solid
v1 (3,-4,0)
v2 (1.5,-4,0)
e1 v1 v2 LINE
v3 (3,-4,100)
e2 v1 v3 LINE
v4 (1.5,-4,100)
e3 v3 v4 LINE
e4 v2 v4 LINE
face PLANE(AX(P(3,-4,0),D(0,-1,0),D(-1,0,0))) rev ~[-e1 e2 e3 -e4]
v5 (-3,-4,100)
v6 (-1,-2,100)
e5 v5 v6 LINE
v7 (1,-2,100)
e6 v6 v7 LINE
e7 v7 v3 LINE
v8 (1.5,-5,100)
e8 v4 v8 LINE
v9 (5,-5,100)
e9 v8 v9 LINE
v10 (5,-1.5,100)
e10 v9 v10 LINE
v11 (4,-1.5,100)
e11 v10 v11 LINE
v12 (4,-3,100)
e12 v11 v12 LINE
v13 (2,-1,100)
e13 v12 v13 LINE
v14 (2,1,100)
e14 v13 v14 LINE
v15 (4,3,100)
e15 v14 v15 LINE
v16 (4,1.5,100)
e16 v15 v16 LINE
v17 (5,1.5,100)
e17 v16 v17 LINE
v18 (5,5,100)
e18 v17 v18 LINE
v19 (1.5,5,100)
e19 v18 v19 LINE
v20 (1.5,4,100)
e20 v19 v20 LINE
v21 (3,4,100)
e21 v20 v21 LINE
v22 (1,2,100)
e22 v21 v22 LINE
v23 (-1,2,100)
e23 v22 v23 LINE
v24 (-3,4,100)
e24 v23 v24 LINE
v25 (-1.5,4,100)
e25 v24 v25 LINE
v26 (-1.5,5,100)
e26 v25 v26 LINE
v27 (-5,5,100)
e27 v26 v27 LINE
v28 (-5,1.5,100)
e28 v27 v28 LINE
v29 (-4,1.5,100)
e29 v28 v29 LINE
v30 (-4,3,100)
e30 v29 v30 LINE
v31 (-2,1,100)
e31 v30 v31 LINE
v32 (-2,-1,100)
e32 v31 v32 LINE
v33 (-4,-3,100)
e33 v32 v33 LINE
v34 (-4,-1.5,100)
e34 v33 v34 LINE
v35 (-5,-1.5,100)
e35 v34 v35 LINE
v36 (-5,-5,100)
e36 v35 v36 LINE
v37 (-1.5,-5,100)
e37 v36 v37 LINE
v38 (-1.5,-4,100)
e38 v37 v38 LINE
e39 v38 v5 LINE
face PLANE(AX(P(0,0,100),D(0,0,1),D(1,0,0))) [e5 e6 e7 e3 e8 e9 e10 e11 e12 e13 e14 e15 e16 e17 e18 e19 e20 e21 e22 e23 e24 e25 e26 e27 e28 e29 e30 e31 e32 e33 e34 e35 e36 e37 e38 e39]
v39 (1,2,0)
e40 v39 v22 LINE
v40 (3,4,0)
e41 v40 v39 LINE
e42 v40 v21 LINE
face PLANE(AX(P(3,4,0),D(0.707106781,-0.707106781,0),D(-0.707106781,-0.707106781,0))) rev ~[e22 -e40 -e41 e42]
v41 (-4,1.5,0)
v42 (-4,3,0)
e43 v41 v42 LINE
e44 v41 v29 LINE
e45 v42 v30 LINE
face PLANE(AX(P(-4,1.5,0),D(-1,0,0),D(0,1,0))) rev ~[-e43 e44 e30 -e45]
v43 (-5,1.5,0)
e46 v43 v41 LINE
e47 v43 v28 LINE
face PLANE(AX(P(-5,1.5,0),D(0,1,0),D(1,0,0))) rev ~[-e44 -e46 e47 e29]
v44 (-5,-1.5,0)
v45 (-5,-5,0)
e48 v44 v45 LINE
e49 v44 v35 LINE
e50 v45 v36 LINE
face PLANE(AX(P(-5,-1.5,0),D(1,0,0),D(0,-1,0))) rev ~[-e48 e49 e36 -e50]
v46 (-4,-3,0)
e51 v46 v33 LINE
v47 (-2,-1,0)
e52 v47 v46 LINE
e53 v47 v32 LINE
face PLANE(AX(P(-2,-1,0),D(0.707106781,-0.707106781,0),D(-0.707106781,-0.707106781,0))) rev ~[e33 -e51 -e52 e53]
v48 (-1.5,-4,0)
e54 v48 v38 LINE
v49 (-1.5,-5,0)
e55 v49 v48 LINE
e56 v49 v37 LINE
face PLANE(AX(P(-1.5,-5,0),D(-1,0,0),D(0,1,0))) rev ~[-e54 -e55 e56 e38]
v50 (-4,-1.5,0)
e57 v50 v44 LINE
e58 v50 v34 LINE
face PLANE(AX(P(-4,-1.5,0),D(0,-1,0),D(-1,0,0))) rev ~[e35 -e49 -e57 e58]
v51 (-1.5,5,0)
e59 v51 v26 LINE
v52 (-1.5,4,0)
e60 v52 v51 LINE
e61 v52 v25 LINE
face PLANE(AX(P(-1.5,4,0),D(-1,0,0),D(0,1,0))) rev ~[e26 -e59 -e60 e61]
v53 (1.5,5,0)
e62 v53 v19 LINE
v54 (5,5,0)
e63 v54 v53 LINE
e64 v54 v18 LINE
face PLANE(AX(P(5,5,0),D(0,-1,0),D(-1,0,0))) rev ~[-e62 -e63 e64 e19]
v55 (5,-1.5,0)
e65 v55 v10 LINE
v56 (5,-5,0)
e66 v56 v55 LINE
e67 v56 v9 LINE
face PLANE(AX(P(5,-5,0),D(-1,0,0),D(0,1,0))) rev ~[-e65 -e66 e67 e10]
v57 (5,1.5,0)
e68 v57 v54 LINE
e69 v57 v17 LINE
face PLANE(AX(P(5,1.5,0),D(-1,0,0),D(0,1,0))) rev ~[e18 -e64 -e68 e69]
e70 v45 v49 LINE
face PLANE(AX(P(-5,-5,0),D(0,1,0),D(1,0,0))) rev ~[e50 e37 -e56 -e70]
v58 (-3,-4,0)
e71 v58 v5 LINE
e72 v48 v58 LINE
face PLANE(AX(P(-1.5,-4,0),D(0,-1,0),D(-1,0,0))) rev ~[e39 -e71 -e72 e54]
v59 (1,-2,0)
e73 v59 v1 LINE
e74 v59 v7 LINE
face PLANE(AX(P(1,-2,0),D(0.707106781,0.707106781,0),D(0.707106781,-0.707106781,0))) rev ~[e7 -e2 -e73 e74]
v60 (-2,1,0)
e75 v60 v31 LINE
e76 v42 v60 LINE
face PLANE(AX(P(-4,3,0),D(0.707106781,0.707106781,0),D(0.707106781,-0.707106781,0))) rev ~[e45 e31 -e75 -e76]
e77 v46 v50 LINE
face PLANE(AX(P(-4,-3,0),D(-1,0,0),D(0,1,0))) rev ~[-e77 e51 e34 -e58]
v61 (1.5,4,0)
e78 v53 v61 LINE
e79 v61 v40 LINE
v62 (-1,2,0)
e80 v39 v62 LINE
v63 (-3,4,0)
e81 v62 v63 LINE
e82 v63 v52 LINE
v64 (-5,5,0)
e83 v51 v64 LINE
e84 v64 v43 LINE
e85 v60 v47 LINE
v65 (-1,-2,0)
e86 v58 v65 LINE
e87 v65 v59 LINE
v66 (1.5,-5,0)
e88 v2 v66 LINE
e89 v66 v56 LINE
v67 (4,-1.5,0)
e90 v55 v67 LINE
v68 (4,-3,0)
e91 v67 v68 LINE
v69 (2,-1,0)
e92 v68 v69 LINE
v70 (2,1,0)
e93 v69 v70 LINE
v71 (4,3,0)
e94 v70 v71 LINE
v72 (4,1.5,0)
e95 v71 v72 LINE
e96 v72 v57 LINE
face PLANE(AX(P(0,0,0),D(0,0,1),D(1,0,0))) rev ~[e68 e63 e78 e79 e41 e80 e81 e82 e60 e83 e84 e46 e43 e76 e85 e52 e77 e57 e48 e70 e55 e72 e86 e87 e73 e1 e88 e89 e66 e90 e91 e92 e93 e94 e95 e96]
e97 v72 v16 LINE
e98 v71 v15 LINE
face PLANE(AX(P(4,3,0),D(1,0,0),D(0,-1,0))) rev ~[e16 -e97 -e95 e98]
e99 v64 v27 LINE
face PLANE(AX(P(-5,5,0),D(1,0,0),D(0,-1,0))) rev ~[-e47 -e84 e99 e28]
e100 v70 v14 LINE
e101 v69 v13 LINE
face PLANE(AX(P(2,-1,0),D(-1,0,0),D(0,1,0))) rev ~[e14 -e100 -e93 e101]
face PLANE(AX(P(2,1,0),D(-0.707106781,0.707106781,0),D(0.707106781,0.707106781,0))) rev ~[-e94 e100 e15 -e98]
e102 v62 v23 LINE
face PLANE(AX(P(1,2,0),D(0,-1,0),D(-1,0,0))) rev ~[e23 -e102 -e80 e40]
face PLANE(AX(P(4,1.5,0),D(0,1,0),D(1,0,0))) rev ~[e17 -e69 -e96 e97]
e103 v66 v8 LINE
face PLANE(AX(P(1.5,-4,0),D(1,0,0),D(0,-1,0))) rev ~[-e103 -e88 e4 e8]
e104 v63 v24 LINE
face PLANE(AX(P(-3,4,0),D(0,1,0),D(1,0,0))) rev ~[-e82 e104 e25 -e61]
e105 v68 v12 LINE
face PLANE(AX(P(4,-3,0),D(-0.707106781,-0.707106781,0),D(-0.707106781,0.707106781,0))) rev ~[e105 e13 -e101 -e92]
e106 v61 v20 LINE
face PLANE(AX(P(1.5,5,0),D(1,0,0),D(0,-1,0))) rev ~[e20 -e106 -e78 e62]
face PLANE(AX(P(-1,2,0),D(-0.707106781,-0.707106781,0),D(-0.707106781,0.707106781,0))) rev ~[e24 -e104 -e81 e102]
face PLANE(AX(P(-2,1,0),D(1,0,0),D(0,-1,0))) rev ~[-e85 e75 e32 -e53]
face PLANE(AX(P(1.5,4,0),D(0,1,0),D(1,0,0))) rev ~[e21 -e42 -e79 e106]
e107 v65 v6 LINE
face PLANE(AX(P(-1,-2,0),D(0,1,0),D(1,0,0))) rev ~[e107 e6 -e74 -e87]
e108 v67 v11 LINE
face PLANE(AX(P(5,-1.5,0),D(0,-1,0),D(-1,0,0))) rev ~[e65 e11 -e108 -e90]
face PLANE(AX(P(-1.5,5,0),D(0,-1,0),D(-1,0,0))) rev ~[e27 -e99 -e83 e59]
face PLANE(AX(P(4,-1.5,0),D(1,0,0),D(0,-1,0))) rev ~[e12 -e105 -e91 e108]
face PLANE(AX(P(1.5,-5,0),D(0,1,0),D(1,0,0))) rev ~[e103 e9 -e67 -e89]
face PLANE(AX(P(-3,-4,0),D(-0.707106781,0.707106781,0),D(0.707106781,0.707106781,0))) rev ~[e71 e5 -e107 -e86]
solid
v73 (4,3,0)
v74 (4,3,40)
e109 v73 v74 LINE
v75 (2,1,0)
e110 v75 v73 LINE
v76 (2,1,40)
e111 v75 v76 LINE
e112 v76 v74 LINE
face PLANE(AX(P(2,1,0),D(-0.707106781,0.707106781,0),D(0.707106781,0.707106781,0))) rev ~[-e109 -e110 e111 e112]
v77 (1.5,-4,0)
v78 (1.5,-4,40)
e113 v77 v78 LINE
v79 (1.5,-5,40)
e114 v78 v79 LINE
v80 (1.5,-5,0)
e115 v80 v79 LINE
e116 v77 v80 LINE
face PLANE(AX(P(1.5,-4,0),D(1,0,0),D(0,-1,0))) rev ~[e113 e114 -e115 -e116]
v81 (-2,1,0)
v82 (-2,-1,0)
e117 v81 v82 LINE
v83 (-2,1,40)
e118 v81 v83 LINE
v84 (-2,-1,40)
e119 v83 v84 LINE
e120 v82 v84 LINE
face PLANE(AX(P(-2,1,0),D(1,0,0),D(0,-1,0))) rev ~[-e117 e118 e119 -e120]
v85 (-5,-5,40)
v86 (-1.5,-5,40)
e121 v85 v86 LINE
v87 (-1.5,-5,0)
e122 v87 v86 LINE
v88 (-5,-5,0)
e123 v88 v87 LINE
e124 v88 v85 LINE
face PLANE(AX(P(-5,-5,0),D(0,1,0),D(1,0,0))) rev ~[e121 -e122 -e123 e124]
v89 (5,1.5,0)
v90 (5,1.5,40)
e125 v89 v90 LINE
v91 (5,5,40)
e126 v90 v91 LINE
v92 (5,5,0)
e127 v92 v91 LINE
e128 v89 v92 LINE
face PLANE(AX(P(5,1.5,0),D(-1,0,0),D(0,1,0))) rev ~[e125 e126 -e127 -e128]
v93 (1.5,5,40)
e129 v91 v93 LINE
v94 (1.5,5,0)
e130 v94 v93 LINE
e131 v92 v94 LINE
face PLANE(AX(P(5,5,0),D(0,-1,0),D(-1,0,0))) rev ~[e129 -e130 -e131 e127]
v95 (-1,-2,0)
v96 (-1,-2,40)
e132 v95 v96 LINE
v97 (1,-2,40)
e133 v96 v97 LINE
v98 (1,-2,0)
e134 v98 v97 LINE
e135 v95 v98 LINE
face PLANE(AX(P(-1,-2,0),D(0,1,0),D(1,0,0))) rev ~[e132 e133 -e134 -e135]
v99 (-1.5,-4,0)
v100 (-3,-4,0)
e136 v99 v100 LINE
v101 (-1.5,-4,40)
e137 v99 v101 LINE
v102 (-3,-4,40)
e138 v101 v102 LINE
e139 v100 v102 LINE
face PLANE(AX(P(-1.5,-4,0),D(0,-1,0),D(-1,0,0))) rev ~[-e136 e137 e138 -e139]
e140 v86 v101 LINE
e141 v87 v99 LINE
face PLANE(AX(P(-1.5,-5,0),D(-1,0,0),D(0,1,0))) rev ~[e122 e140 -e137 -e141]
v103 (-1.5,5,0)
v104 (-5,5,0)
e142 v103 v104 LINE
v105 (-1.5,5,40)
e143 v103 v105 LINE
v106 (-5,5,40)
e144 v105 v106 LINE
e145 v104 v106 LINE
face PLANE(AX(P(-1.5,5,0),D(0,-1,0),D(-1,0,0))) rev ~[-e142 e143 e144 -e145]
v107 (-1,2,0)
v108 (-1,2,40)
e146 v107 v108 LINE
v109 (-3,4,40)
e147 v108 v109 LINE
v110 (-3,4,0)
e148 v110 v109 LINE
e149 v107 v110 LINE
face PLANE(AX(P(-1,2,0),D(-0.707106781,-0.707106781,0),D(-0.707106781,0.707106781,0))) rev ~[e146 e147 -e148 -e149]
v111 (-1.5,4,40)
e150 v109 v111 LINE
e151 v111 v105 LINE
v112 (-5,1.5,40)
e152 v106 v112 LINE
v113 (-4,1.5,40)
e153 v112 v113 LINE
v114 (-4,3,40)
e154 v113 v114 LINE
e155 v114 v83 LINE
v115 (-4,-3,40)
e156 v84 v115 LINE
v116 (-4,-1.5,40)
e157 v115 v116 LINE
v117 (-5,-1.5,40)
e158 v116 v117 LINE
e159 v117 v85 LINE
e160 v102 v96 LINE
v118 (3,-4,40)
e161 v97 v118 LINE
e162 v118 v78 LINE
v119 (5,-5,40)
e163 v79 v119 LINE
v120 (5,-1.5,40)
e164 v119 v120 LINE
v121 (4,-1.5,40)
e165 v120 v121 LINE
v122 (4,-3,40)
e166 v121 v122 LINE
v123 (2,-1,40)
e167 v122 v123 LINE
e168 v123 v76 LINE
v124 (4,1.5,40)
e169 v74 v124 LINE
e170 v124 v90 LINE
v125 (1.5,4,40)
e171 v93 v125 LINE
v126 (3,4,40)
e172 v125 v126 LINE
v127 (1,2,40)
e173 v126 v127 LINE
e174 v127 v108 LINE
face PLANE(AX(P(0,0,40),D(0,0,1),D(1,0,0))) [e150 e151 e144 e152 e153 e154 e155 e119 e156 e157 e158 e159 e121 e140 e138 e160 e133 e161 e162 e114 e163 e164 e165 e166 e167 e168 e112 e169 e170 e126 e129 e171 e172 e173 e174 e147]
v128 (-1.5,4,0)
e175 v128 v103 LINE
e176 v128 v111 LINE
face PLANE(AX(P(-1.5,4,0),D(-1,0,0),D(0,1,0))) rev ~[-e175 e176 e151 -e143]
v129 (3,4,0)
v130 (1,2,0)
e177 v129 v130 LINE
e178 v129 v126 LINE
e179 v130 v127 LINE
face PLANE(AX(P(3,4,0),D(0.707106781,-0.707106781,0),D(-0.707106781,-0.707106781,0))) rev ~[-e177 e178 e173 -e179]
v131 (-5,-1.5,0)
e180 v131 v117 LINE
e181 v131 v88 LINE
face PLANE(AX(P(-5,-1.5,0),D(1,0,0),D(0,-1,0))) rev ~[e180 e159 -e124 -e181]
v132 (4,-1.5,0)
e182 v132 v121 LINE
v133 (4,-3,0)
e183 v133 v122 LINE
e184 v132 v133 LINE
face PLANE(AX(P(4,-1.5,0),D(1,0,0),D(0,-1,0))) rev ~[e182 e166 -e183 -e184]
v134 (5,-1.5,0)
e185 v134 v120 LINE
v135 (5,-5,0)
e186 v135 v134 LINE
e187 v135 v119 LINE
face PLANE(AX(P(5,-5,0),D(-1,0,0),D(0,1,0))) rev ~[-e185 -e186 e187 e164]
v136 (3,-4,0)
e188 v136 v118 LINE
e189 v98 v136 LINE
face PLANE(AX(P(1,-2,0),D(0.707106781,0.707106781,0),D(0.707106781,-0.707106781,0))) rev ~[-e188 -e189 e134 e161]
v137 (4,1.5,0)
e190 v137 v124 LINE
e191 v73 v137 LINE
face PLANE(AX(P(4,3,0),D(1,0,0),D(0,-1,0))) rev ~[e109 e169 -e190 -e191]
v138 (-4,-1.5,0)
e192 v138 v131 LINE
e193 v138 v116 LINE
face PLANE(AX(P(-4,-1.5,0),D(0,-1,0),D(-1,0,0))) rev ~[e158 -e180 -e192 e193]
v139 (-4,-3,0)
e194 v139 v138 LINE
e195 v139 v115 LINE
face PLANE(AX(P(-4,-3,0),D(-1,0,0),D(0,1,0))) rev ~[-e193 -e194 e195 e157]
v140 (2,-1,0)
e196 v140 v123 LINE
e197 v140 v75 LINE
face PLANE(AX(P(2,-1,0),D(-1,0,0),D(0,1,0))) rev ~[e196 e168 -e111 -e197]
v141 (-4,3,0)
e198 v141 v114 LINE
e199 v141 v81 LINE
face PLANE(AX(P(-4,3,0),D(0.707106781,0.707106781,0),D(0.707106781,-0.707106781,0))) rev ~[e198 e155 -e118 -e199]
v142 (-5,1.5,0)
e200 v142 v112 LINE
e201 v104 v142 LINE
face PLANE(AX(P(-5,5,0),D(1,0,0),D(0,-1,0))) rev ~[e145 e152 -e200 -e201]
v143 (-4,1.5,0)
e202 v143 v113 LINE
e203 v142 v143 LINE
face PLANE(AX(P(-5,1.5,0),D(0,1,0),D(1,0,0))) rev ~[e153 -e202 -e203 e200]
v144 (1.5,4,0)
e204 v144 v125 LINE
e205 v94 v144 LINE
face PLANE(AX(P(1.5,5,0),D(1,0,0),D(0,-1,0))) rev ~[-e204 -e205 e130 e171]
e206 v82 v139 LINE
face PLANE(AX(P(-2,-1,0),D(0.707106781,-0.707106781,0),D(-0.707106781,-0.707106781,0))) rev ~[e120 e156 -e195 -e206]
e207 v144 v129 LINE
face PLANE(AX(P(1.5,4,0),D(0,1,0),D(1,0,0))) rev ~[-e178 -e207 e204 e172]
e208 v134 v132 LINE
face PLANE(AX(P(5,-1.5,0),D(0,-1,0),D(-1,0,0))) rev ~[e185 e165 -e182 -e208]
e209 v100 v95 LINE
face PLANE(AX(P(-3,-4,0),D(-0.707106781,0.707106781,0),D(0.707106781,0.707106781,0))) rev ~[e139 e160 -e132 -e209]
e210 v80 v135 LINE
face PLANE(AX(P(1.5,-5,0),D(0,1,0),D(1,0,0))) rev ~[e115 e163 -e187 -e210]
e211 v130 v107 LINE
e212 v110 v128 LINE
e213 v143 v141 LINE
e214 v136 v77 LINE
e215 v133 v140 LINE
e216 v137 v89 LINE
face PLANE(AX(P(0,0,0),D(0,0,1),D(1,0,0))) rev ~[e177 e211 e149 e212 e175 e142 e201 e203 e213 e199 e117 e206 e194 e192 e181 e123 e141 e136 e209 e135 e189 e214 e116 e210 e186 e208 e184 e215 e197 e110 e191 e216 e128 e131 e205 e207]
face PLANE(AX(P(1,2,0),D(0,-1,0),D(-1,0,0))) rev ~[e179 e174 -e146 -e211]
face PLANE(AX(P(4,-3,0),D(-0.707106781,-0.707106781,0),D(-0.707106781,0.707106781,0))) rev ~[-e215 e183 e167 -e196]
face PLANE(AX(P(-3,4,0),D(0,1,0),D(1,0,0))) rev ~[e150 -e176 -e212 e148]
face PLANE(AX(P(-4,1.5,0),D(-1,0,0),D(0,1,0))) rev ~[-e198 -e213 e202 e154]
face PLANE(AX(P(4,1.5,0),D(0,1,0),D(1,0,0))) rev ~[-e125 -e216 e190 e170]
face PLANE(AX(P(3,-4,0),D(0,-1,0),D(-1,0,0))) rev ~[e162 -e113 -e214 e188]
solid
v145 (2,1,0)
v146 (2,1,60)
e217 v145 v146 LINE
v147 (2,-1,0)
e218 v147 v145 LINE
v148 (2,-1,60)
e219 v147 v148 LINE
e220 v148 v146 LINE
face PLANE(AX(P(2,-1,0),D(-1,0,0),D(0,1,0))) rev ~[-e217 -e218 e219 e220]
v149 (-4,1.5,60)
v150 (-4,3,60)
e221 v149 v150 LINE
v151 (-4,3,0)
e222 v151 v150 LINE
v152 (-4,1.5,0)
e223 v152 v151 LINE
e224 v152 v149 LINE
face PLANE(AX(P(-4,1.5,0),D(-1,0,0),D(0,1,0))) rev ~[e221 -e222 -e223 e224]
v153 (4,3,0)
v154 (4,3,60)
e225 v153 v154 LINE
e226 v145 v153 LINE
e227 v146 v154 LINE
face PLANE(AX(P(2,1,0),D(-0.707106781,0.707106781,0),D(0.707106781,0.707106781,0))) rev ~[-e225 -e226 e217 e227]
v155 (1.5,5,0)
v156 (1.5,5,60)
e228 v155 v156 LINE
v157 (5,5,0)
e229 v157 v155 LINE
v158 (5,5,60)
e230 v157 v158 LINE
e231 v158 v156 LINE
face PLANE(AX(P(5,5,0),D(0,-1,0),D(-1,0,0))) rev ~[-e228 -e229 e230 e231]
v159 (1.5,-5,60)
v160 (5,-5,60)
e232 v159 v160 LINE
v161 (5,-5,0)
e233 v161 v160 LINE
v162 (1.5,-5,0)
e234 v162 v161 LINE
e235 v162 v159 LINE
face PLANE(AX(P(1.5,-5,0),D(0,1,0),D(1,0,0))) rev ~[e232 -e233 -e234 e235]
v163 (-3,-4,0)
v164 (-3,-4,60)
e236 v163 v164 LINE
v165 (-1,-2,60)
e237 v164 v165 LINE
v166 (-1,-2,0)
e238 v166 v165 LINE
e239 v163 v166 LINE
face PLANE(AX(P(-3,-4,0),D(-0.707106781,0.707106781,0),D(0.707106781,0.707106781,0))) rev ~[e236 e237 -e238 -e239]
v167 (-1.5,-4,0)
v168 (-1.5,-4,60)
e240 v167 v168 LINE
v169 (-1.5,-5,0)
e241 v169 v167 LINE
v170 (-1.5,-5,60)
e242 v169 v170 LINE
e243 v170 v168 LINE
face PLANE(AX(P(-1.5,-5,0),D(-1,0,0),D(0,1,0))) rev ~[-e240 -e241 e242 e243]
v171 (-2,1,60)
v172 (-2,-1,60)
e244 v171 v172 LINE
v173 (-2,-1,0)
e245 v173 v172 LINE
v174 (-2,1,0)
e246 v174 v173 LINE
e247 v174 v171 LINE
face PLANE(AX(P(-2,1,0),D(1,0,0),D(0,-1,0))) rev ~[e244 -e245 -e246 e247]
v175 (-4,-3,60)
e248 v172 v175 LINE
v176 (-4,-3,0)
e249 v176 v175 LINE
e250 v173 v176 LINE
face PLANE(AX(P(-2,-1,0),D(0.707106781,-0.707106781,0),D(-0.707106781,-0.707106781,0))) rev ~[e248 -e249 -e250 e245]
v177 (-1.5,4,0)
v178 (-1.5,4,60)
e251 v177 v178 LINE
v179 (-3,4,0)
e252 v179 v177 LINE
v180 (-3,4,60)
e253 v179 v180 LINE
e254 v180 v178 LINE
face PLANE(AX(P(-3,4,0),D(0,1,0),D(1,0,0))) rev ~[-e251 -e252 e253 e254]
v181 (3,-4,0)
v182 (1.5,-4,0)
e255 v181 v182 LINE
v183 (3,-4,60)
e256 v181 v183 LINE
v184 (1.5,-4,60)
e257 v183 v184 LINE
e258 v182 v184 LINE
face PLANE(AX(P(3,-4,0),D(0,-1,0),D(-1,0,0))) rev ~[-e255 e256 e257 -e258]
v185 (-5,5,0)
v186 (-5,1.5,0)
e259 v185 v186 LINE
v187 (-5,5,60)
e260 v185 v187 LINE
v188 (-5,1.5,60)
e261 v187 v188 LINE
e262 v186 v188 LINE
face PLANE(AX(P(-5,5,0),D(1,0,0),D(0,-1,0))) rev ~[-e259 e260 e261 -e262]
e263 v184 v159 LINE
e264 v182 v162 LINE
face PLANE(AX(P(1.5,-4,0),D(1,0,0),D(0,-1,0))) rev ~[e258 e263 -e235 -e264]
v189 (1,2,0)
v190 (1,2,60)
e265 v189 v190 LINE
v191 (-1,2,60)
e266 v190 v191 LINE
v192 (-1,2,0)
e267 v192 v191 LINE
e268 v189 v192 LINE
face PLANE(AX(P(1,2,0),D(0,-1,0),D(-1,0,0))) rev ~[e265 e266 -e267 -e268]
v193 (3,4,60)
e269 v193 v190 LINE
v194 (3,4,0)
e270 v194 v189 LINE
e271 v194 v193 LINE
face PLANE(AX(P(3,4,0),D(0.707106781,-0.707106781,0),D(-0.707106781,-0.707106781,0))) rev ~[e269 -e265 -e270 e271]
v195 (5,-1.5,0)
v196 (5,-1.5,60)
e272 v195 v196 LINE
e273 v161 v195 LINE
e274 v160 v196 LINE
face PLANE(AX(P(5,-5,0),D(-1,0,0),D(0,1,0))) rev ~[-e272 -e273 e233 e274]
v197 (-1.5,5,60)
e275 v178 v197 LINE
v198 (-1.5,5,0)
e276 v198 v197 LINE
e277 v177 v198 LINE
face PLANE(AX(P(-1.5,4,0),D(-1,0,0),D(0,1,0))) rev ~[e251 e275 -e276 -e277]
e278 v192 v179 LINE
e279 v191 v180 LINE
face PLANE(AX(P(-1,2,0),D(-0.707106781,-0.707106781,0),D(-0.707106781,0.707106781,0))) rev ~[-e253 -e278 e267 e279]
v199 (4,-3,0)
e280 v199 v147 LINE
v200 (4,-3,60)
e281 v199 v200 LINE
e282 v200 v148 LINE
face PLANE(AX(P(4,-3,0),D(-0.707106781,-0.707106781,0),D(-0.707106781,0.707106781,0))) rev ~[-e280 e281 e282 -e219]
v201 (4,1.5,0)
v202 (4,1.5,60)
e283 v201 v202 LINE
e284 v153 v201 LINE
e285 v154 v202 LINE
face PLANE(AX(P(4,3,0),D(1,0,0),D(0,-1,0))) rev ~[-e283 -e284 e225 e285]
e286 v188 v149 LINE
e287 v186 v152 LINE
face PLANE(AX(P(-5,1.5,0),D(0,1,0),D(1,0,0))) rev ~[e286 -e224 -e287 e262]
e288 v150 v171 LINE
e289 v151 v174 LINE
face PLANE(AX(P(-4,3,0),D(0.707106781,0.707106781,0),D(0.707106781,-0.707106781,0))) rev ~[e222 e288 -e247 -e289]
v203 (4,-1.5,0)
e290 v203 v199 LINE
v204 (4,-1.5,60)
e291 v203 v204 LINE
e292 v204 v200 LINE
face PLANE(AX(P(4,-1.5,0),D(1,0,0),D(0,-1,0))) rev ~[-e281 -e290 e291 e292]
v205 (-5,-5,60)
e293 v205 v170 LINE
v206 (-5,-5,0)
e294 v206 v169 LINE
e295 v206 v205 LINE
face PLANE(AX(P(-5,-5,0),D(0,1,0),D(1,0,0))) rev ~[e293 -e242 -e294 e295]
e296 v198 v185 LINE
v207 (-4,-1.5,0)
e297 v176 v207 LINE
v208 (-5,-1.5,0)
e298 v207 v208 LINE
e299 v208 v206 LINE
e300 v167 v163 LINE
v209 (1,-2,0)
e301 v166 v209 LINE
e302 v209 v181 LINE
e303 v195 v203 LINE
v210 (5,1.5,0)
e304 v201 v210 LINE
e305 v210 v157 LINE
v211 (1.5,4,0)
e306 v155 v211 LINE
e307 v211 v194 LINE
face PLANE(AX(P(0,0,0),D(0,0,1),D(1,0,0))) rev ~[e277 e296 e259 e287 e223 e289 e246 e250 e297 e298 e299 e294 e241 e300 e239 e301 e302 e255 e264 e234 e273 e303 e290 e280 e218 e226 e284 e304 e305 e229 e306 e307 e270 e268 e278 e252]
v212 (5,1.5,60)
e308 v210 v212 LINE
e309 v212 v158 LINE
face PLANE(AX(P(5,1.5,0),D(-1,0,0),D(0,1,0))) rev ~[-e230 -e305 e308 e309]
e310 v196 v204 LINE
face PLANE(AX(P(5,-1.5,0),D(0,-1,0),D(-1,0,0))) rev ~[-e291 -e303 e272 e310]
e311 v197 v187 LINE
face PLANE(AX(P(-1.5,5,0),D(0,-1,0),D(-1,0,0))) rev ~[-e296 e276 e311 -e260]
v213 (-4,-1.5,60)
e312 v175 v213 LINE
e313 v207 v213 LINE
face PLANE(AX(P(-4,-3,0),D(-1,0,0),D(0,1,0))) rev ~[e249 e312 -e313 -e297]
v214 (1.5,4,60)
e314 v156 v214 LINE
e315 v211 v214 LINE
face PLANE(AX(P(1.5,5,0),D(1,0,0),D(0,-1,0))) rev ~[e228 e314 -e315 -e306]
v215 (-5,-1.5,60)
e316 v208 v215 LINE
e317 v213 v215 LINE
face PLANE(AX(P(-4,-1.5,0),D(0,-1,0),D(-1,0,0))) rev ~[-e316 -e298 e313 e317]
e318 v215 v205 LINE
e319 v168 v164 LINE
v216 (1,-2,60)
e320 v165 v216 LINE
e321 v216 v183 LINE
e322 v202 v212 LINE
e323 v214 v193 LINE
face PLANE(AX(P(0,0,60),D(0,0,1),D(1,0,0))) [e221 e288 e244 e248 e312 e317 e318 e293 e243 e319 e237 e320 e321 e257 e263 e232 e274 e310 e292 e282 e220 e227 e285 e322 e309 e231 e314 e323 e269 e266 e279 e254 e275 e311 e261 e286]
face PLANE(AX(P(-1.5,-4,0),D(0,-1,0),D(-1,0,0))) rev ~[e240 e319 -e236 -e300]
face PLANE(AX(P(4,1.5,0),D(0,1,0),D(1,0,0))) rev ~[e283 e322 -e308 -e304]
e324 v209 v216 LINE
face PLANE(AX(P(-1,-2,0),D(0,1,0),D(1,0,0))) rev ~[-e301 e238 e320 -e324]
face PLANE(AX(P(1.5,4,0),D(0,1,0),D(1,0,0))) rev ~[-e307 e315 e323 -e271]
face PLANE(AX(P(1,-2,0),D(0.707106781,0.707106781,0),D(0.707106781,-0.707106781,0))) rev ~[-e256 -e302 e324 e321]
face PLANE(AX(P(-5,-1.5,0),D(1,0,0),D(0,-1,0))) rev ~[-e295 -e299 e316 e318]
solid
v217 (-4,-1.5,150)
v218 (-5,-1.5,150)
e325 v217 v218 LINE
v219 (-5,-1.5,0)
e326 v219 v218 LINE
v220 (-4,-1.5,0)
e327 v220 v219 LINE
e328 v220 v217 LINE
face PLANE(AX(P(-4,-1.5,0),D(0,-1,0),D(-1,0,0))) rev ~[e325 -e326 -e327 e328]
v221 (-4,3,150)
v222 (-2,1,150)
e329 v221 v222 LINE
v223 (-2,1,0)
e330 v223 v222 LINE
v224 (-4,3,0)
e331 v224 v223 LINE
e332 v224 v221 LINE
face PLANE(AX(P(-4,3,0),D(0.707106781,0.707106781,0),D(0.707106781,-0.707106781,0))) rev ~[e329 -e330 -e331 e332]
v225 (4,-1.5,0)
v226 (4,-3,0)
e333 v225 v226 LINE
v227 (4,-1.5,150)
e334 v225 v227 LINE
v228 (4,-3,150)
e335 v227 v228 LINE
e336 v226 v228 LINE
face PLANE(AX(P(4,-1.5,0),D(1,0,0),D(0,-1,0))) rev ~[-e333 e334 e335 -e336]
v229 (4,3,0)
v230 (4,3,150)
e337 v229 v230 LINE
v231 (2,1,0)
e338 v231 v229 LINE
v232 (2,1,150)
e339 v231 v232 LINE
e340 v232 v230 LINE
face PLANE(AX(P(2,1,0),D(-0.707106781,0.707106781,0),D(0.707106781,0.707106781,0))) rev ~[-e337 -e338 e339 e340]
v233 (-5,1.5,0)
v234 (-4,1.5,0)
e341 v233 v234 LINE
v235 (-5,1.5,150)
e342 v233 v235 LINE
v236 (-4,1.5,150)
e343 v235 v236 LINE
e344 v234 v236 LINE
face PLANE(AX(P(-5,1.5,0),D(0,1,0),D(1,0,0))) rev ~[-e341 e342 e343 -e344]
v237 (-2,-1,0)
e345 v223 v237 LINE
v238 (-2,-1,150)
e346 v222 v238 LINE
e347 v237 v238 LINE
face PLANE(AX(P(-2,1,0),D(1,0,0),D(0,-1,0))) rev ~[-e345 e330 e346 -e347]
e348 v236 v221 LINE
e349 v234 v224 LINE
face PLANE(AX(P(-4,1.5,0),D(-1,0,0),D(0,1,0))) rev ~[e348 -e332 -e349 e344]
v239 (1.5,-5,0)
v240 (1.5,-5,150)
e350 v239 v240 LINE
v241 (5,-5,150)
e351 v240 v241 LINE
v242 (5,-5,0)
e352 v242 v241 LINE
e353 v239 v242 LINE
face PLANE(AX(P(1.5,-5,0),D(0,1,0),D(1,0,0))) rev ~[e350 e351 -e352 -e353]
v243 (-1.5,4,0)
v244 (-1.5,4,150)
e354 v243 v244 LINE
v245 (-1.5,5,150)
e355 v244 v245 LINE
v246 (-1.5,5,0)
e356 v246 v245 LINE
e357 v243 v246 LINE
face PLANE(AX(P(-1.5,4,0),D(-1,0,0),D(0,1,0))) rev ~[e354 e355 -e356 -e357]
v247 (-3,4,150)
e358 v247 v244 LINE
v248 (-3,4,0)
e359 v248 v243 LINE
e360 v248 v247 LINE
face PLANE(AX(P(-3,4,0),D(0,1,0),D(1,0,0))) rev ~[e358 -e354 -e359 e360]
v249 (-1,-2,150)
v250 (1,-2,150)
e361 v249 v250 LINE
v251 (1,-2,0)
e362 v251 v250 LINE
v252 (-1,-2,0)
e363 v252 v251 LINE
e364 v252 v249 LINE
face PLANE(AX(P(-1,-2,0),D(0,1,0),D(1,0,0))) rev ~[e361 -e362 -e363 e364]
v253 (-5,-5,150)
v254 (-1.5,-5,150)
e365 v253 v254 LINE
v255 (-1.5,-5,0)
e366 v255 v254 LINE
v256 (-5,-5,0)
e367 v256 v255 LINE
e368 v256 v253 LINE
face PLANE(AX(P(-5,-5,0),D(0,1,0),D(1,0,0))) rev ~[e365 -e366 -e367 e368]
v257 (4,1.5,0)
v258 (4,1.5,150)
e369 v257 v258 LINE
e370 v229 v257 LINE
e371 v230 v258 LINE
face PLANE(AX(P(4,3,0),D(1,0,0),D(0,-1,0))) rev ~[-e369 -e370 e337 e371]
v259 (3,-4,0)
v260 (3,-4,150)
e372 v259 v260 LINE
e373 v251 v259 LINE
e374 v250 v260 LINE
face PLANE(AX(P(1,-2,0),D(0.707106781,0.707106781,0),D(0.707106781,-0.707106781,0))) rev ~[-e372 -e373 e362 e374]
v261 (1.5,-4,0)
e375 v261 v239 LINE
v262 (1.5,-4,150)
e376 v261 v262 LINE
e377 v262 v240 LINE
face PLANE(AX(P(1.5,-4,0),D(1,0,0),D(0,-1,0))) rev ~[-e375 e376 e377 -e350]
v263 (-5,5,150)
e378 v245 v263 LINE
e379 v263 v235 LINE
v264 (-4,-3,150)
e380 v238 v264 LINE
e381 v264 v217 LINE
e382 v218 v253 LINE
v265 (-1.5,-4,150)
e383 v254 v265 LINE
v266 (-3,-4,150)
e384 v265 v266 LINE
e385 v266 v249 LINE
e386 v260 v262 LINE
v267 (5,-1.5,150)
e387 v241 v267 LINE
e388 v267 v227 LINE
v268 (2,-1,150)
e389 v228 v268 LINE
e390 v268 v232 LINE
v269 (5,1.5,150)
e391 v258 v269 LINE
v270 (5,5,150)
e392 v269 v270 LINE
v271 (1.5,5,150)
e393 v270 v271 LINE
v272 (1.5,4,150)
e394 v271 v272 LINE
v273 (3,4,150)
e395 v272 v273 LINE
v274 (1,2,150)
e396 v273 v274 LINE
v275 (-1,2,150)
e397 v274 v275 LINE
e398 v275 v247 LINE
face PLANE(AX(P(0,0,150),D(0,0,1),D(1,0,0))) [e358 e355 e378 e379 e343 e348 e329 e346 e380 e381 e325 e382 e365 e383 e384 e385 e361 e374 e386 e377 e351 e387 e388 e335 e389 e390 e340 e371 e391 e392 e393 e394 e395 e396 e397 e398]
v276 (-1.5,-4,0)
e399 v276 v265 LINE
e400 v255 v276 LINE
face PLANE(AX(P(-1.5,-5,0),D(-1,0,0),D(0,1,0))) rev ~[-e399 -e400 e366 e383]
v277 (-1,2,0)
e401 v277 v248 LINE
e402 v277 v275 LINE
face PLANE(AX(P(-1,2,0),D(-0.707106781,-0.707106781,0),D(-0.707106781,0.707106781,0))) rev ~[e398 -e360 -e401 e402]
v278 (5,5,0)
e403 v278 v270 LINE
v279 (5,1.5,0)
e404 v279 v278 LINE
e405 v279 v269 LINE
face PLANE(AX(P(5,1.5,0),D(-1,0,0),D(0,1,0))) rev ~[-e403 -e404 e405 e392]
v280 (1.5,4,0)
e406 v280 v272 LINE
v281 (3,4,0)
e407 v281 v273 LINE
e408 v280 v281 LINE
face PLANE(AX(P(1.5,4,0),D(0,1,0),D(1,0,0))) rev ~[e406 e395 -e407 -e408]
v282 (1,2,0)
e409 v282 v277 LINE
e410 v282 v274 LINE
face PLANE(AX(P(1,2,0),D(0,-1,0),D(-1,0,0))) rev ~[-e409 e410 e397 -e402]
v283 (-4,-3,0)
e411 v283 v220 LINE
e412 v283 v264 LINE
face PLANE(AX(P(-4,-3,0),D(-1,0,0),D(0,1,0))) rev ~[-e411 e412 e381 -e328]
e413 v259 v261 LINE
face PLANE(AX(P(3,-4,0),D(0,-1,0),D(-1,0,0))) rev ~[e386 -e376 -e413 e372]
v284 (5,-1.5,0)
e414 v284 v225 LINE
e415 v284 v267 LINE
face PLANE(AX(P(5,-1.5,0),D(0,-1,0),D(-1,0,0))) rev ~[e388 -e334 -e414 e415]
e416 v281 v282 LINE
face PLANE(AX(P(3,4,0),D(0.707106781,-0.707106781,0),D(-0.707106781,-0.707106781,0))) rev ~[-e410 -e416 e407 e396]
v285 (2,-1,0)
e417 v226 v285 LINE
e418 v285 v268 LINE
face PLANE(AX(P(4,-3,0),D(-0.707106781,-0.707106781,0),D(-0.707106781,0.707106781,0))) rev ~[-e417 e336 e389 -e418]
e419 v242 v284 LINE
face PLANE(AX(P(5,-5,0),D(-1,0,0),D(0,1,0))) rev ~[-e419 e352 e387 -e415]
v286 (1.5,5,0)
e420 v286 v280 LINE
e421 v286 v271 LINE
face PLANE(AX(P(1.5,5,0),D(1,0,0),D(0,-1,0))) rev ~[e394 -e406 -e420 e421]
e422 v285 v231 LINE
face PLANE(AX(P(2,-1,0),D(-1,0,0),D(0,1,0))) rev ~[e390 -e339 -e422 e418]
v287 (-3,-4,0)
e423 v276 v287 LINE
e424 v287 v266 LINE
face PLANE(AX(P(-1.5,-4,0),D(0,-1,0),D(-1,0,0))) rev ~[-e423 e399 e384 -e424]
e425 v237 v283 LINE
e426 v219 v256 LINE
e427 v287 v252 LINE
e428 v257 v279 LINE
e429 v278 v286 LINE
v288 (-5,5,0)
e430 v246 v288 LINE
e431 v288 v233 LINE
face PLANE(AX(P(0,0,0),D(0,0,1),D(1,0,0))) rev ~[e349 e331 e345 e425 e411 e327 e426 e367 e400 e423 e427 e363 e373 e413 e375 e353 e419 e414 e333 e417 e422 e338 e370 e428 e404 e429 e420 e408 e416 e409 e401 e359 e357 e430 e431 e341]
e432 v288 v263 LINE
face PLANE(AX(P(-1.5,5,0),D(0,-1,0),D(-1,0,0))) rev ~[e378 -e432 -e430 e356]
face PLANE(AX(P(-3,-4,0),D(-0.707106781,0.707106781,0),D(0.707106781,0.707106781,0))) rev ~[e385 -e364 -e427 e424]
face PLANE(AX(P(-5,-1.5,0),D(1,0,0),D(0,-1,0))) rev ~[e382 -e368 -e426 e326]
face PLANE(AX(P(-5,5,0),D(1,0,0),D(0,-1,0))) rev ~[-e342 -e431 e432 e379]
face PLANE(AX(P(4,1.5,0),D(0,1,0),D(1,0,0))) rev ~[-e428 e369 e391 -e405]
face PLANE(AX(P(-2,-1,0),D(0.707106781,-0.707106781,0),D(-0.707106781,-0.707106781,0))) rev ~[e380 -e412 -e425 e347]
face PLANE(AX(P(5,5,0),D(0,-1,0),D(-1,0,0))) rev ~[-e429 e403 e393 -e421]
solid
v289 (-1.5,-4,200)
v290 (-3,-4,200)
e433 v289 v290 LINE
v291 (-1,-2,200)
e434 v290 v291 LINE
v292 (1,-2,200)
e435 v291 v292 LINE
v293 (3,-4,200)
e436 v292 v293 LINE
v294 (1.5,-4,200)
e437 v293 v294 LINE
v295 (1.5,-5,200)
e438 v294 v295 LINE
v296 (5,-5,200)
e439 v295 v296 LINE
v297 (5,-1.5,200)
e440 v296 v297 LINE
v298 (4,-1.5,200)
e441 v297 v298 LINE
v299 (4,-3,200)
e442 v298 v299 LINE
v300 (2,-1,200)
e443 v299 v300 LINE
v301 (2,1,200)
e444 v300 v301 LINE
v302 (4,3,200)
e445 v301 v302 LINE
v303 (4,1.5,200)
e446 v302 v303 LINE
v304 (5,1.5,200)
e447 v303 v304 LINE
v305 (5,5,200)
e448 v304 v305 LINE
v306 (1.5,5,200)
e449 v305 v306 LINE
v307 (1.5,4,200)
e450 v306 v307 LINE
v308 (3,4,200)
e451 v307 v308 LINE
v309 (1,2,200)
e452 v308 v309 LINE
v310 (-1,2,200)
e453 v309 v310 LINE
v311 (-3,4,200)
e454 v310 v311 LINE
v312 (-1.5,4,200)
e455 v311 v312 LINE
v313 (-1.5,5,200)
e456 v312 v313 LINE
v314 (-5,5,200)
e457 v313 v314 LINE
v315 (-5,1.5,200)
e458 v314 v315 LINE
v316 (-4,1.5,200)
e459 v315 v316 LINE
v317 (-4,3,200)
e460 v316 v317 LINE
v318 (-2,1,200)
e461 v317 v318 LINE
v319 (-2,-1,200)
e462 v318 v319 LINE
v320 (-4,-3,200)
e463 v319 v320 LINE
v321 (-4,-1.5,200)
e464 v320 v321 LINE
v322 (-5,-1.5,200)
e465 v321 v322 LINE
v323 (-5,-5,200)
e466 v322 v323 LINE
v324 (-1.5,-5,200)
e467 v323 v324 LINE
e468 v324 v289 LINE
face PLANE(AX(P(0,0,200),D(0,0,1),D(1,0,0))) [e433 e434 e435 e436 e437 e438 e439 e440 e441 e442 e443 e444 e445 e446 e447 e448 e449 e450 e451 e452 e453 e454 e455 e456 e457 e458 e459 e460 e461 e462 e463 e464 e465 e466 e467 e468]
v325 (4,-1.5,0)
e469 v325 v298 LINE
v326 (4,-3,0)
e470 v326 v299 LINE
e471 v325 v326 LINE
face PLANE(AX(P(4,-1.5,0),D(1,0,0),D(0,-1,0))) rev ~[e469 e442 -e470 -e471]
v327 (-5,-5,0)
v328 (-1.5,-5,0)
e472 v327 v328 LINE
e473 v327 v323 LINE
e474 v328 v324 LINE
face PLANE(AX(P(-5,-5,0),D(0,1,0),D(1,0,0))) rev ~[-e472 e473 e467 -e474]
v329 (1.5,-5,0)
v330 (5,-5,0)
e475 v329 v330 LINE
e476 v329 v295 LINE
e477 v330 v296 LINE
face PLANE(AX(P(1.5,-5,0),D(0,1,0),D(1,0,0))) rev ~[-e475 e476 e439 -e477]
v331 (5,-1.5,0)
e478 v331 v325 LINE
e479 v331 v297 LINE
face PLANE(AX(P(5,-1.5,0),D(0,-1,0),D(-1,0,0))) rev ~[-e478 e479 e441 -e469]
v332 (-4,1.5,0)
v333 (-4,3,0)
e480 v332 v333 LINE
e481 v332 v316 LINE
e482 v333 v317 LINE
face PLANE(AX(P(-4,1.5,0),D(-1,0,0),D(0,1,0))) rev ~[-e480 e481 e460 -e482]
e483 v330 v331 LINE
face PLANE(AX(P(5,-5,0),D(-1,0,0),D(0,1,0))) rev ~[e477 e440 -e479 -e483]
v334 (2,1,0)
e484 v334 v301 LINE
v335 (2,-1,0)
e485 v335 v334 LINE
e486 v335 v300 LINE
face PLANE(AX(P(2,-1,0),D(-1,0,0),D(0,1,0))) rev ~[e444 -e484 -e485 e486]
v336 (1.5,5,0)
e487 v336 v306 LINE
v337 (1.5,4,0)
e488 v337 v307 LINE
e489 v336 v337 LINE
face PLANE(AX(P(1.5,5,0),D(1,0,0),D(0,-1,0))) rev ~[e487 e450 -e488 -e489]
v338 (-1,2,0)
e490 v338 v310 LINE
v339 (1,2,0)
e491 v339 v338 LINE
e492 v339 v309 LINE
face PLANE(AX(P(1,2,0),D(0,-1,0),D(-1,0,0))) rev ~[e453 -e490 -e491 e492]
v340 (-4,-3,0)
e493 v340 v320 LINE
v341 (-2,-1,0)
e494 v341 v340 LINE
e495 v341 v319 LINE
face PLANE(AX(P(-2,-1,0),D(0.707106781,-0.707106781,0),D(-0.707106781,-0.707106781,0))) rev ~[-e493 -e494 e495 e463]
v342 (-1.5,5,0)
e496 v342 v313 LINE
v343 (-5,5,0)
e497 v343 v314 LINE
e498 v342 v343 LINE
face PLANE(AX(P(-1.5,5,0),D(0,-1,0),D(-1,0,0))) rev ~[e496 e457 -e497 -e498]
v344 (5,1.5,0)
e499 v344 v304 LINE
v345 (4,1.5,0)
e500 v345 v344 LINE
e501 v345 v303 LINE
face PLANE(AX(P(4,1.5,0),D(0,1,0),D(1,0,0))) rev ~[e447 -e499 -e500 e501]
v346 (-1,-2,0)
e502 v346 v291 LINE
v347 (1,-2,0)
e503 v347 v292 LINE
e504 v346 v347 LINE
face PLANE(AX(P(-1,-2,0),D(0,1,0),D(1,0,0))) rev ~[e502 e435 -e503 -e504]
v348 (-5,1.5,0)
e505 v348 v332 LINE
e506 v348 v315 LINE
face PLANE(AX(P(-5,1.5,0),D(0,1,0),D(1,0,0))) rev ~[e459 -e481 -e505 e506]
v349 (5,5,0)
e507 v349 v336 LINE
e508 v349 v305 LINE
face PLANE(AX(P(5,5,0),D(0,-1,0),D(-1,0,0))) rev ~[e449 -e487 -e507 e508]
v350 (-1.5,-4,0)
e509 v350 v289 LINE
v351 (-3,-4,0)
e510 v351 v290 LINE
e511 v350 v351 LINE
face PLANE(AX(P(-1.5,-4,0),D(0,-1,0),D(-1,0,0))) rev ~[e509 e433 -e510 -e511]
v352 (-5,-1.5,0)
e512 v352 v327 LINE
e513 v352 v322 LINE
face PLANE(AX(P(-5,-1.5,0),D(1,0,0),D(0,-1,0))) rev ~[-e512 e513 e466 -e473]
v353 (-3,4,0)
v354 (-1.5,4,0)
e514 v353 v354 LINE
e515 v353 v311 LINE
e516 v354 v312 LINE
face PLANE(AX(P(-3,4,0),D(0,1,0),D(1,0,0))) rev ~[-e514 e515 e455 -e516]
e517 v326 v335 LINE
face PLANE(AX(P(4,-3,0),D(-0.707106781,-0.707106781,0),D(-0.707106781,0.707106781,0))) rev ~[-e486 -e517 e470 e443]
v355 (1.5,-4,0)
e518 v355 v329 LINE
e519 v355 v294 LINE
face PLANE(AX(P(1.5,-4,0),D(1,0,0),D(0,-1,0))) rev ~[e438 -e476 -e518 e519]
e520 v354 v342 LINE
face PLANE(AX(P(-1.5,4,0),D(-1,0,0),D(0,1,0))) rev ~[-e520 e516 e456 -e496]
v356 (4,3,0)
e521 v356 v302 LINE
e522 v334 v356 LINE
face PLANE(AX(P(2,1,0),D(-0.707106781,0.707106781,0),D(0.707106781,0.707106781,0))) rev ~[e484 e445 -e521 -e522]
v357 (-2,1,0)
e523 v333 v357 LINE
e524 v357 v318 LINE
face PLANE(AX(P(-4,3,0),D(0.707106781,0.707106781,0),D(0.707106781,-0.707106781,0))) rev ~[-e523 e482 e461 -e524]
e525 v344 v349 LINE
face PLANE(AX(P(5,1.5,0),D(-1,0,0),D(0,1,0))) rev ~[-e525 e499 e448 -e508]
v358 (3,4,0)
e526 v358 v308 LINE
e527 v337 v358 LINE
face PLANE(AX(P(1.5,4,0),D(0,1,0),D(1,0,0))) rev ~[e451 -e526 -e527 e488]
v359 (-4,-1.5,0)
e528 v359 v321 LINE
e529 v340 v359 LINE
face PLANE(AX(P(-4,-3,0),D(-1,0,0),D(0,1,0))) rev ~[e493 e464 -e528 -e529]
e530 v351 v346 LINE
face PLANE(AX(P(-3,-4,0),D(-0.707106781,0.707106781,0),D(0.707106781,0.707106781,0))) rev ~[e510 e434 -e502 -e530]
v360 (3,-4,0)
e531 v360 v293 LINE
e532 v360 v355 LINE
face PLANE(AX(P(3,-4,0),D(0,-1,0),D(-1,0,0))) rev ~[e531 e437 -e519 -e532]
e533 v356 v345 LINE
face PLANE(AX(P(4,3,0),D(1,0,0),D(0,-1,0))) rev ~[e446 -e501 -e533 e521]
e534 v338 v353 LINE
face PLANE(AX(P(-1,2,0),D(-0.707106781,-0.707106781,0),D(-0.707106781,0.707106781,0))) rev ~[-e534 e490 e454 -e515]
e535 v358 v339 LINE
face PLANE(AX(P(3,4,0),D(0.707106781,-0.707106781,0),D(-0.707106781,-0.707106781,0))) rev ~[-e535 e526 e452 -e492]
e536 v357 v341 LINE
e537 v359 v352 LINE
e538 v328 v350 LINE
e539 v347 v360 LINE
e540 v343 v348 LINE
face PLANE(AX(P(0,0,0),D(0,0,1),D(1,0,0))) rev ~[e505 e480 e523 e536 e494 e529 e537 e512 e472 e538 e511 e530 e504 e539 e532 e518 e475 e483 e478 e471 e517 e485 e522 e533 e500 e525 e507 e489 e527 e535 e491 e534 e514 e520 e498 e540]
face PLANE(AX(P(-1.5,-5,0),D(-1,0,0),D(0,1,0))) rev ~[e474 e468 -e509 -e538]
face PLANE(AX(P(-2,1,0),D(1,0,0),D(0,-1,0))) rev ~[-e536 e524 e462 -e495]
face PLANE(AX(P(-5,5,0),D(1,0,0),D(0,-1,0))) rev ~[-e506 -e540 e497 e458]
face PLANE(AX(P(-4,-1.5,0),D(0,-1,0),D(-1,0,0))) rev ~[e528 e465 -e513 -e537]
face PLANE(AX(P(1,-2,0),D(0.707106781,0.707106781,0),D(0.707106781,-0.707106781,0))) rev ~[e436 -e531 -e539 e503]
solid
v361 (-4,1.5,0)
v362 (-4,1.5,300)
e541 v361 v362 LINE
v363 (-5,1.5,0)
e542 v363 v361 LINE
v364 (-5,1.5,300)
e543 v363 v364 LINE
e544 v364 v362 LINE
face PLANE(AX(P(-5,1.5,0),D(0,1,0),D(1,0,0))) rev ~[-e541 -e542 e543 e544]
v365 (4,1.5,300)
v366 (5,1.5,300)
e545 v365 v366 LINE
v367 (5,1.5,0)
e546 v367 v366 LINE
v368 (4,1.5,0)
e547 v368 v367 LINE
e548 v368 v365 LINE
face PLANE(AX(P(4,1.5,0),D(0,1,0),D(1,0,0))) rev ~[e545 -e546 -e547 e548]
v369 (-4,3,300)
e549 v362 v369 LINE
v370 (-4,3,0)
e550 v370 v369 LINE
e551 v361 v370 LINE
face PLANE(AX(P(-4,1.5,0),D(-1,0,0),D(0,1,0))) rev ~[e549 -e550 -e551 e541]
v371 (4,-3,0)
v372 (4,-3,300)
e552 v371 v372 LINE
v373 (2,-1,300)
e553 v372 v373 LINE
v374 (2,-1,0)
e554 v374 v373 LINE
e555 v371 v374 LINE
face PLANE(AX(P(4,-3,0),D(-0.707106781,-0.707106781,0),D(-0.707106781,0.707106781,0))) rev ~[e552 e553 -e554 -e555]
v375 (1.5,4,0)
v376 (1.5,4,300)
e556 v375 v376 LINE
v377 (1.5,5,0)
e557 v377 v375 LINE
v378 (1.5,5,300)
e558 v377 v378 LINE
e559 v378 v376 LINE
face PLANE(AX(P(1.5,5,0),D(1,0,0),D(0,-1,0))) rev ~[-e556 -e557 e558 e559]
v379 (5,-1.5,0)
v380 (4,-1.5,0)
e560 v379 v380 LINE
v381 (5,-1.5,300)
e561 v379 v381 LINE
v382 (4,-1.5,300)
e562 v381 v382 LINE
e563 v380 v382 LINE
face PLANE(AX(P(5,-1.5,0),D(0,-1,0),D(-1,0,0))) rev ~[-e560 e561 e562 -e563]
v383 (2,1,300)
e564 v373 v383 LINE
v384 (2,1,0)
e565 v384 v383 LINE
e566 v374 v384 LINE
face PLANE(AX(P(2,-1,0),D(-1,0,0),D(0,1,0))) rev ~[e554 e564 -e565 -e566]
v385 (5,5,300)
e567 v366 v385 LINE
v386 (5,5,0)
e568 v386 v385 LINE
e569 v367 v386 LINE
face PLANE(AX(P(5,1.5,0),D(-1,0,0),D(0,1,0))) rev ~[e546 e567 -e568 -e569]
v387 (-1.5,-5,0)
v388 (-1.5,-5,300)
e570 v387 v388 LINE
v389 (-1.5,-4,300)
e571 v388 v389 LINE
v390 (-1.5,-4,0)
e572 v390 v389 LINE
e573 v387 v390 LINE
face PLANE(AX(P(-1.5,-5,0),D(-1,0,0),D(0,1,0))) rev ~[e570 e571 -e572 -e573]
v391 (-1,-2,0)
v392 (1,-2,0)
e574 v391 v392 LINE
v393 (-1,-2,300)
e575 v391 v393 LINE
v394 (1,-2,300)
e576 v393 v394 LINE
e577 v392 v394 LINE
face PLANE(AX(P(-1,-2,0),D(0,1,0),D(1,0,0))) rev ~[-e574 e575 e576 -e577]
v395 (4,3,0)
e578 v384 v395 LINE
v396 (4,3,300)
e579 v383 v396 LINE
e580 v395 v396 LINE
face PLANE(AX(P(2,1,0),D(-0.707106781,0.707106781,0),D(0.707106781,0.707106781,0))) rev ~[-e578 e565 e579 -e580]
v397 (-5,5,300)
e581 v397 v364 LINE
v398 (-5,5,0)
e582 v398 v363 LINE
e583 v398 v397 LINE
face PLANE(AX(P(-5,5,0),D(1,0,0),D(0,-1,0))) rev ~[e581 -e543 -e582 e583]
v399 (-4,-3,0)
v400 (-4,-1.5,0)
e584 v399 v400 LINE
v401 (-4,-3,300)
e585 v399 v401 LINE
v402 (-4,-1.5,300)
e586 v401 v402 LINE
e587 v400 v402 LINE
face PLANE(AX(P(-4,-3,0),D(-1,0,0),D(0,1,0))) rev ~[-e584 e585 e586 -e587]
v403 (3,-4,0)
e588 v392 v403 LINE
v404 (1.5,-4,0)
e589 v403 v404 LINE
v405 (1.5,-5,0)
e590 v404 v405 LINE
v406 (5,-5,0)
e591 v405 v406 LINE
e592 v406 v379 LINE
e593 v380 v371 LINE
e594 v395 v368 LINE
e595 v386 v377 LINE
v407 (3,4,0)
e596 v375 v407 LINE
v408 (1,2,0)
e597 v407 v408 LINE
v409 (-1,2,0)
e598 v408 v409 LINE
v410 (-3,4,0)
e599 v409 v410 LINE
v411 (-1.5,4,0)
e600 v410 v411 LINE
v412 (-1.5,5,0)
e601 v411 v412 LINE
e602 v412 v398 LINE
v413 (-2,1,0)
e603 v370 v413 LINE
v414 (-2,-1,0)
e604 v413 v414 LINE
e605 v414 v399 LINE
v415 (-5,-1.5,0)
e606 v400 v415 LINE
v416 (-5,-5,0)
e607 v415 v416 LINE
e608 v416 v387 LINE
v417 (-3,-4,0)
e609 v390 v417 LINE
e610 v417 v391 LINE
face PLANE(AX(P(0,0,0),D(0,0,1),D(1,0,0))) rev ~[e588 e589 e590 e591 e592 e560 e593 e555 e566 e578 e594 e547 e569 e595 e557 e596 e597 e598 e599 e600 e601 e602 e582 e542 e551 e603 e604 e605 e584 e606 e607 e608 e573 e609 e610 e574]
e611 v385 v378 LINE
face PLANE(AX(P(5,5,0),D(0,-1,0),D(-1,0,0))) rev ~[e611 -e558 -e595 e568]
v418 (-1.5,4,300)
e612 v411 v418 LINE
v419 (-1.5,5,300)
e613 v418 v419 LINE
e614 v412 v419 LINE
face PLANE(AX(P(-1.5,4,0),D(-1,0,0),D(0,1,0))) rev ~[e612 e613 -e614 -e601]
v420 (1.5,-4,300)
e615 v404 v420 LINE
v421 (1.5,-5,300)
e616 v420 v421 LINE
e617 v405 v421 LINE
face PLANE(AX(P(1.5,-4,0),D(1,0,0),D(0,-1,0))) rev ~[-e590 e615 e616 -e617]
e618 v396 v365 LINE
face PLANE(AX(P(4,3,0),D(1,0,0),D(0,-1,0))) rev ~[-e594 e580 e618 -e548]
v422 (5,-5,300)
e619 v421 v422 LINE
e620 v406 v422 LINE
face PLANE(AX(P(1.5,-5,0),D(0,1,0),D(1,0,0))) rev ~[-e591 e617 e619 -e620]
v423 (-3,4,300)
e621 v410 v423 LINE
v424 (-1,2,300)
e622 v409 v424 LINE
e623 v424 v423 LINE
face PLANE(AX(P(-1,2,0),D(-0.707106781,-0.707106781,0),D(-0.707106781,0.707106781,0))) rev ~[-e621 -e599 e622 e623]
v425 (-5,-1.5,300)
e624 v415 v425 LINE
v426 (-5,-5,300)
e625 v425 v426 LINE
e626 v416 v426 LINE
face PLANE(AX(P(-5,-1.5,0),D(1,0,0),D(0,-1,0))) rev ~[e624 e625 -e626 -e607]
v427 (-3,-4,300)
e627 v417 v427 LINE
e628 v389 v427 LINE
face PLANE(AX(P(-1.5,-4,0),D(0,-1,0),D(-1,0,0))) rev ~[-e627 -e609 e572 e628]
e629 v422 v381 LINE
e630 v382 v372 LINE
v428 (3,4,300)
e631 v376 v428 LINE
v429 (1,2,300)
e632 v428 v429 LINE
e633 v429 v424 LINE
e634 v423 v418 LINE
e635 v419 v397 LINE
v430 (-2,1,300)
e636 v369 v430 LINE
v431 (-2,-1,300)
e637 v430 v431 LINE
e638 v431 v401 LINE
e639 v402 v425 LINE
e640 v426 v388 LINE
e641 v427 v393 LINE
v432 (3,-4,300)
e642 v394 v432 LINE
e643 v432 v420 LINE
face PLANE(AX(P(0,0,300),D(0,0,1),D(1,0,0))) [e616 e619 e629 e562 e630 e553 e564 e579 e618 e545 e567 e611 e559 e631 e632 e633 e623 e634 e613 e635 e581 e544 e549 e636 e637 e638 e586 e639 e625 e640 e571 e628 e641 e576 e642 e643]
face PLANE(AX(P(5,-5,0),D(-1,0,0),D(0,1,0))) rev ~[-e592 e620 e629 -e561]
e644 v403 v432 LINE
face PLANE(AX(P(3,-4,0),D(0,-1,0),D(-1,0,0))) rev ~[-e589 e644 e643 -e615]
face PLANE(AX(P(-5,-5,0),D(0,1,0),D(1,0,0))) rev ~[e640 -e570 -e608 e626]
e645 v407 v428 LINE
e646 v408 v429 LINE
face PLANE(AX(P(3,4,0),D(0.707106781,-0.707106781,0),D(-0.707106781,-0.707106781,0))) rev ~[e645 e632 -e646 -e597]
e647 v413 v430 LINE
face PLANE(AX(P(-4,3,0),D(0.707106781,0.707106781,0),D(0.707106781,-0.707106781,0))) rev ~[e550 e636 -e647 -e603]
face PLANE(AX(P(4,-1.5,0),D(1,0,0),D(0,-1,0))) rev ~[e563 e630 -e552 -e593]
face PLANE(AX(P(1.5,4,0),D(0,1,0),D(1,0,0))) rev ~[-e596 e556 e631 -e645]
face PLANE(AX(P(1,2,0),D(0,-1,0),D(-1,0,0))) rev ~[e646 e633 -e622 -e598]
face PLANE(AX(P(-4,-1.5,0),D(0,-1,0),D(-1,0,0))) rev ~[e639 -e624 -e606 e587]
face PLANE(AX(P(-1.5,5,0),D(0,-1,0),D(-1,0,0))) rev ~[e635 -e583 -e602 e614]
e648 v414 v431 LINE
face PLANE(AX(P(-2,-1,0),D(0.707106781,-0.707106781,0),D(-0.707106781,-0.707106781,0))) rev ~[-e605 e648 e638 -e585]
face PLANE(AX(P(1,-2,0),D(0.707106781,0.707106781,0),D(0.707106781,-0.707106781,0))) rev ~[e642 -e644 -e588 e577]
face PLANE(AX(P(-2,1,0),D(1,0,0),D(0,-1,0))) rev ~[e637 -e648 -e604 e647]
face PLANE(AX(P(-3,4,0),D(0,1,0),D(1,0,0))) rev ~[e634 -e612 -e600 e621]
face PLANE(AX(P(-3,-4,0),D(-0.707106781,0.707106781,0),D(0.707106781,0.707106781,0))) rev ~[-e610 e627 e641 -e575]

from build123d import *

# Parameters (mm, degrees)
F1_DEPTH = 200
F2_DEPTH = 150
F3_DEPTH = 100
F4_DEPTH = 300
F5_DEPTH = 60
F6_DEPTH = 40


with BuildPart() as f1:
    # F0 (on Top) → F1 (new body)
    with BuildSketch(Plane.XY):
        Polygon((3, -4), (1.5, -4), (1.5, -5), (5, -5), (5, -1.5), (4, -1.5), (4, -3), (2, -1), (2, 0), (2, 1), (4, 3), (4, 1.5), (5, 1.5), (5, 5), (1.5, 5), (1.5, 4), (3, 4), (1, 2), (0, 2), (-1, 2), (-3, 4), (-1.5, 4), (-1.5, 5), (-5, 5), (-5, 1.5), (-4, 1.5), (-4, 3), (-2, 1), (-2, 0), (-2, -1), (-4, -3), (-4, -1.5), (-5, -1.5), (-5, -5), (-1.5, -5), (-1.5, -4), (-3, -4), (-1, -2), (0, -2), (1, -2), align=None)
    extrude(amount=F1_DEPTH)


with BuildPart() as f2:
    # F0 (on Top) → F2 (new body)
    with BuildSketch(Plane.XY):
        Polygon((3, -4), (1.5, -4), (1.5, -5), (5, -5), (5, -1.5), (4, -1.5), (4, -3), (2, -1), (2, 0), (2, 1), (4, 3), (4, 1.5), (5, 1.5), (5, 5), (1.5, 5), (1.5, 4), (3, 4), (1, 2), (0, 2), (-1, 2), (-3, 4), (-1.5, 4), (-1.5, 5), (-5, 5), (-5, 1.5), (-4, 1.5), (-4, 3), (-2, 1), (-2, 0), (-2, -1), (-4, -3), (-4, -1.5), (-5, -1.5), (-5, -5), (-1.5, -5), (-1.5, -4), (-3, -4), (-1, -2), (0, -2), (1, -2), align=None)
    extrude(amount=F2_DEPTH)


with BuildPart() as f3:
    # F0 (on Top) → F3 (new body)
    with BuildSketch(Plane.XY):
        Polygon((3, -4), (1.5, -4), (1.5, -5), (5, -5), (5, -1.5), (4, -1.5), (4, -3), (2, -1), (2, 0), (2, 1), (4, 3), (4, 1.5), (5, 1.5), (5, 5), (1.5, 5), (1.5, 4), (3, 4), (1, 2), (0, 2), (-1, 2), (-3, 4), (-1.5, 4), (-1.5, 5), (-5, 5), (-5, 1.5), (-4, 1.5), (-4, 3), (-2, 1), (-2, 0), (-2, -1), (-4, -3), (-4, -1.5), (-5, -1.5), (-5, -5), (-1.5, -5), (-1.5, -4), (-3, -4), (-1, -2), (0, -2), (1, -2), align=None)
    extrude(amount=F3_DEPTH)


with BuildPart() as f4:
    # F0 (on Top) → F4 (new body)
    with BuildSketch(Plane.XY):
        Polygon((3, -4), (1.5, -4), (1.5, -5), (5, -5), (5, -1.5), (4, -1.5), (4, -3), (2, -1), (2, 0), (2, 1), (4, 3), (4, 1.5), (5, 1.5), (5, 5), (1.5, 5), (1.5, 4), (3, 4), (1, 2), (0, 2), (-1, 2), (-3, 4), (-1.5, 4), (-1.5, 5), (-5, 5), (-5, 1.5), (-4, 1.5), (-4, 3), (-2, 1), (-2, 0), (-2, -1), (-4, -3), (-4, -1.5), (-5, -1.5), (-5, -5), (-1.5, -5), (-1.5, -4), (-3, -4), (-1, -2), (0, -2), (1, -2), align=None)
    extrude(amount=F4_DEPTH)


with BuildPart() as f5:
    # F0 (on Top) → F5 (new body)
    with BuildSketch(Plane.XY):
        Polygon((3, -4), (1.5, -4), (1.5, -5), (5, -5), (5, -1.5), (4, -1.5), (4, -3), (2, -1), (2, 0), (2, 1), (4, 3), (4, 1.5), (5, 1.5), (5, 5), (1.5, 5), (1.5, 4), (3, 4), (1, 2), (0, 2), (-1, 2), (-3, 4), (-1.5, 4), (-1.5, 5), (-5, 5), (-5, 1.5), (-4, 1.5), (-4, 3), (-2, 1), (-2, 0), (-2, -1), (-4, -3), (-4, -1.5), (-5, -1.5), (-5, -5), (-1.5, -5), (-1.5, -4), (-3, -4), (-1, -2), (0, -2), (1, -2), align=None)
    extrude(amount=F5_DEPTH)


with BuildPart() as f6:
    # F0 (on Top) → F6 (new body)
    with BuildSketch(Plane.XY):
        Polygon((3, -4), (1.5, -4), (1.5, -5), (5, -5), (5, -1.5), (4, -1.5), (4, -3), (2, -1), (2, 0), (2, 1), (4, 3), (4, 1.5), (5, 1.5), (5, 5), (1.5, 5), (1.5, 4), (3, 4), (1, 2), (0, 2), (-1, 2), (-3, 4), (-1.5, 4), (-1.5, 5), (-5, 5), (-5, 1.5), (-4, 1.5), (-4, 3), (-2, 1), (-2, 0), (-2, -1), (-4, -3), (-4, -1.5), (-5, -1.5), (-5, -5), (-1.5, -5), (-1.5, -4), (-3, -4), (-1, -2), (0, -2), (1, -2), align=None)
    extrude(amount=F6_DEPTH)


solid = Compound([f1.part, f2.part, f3.part, f4.part, f5.part, f6.part])
